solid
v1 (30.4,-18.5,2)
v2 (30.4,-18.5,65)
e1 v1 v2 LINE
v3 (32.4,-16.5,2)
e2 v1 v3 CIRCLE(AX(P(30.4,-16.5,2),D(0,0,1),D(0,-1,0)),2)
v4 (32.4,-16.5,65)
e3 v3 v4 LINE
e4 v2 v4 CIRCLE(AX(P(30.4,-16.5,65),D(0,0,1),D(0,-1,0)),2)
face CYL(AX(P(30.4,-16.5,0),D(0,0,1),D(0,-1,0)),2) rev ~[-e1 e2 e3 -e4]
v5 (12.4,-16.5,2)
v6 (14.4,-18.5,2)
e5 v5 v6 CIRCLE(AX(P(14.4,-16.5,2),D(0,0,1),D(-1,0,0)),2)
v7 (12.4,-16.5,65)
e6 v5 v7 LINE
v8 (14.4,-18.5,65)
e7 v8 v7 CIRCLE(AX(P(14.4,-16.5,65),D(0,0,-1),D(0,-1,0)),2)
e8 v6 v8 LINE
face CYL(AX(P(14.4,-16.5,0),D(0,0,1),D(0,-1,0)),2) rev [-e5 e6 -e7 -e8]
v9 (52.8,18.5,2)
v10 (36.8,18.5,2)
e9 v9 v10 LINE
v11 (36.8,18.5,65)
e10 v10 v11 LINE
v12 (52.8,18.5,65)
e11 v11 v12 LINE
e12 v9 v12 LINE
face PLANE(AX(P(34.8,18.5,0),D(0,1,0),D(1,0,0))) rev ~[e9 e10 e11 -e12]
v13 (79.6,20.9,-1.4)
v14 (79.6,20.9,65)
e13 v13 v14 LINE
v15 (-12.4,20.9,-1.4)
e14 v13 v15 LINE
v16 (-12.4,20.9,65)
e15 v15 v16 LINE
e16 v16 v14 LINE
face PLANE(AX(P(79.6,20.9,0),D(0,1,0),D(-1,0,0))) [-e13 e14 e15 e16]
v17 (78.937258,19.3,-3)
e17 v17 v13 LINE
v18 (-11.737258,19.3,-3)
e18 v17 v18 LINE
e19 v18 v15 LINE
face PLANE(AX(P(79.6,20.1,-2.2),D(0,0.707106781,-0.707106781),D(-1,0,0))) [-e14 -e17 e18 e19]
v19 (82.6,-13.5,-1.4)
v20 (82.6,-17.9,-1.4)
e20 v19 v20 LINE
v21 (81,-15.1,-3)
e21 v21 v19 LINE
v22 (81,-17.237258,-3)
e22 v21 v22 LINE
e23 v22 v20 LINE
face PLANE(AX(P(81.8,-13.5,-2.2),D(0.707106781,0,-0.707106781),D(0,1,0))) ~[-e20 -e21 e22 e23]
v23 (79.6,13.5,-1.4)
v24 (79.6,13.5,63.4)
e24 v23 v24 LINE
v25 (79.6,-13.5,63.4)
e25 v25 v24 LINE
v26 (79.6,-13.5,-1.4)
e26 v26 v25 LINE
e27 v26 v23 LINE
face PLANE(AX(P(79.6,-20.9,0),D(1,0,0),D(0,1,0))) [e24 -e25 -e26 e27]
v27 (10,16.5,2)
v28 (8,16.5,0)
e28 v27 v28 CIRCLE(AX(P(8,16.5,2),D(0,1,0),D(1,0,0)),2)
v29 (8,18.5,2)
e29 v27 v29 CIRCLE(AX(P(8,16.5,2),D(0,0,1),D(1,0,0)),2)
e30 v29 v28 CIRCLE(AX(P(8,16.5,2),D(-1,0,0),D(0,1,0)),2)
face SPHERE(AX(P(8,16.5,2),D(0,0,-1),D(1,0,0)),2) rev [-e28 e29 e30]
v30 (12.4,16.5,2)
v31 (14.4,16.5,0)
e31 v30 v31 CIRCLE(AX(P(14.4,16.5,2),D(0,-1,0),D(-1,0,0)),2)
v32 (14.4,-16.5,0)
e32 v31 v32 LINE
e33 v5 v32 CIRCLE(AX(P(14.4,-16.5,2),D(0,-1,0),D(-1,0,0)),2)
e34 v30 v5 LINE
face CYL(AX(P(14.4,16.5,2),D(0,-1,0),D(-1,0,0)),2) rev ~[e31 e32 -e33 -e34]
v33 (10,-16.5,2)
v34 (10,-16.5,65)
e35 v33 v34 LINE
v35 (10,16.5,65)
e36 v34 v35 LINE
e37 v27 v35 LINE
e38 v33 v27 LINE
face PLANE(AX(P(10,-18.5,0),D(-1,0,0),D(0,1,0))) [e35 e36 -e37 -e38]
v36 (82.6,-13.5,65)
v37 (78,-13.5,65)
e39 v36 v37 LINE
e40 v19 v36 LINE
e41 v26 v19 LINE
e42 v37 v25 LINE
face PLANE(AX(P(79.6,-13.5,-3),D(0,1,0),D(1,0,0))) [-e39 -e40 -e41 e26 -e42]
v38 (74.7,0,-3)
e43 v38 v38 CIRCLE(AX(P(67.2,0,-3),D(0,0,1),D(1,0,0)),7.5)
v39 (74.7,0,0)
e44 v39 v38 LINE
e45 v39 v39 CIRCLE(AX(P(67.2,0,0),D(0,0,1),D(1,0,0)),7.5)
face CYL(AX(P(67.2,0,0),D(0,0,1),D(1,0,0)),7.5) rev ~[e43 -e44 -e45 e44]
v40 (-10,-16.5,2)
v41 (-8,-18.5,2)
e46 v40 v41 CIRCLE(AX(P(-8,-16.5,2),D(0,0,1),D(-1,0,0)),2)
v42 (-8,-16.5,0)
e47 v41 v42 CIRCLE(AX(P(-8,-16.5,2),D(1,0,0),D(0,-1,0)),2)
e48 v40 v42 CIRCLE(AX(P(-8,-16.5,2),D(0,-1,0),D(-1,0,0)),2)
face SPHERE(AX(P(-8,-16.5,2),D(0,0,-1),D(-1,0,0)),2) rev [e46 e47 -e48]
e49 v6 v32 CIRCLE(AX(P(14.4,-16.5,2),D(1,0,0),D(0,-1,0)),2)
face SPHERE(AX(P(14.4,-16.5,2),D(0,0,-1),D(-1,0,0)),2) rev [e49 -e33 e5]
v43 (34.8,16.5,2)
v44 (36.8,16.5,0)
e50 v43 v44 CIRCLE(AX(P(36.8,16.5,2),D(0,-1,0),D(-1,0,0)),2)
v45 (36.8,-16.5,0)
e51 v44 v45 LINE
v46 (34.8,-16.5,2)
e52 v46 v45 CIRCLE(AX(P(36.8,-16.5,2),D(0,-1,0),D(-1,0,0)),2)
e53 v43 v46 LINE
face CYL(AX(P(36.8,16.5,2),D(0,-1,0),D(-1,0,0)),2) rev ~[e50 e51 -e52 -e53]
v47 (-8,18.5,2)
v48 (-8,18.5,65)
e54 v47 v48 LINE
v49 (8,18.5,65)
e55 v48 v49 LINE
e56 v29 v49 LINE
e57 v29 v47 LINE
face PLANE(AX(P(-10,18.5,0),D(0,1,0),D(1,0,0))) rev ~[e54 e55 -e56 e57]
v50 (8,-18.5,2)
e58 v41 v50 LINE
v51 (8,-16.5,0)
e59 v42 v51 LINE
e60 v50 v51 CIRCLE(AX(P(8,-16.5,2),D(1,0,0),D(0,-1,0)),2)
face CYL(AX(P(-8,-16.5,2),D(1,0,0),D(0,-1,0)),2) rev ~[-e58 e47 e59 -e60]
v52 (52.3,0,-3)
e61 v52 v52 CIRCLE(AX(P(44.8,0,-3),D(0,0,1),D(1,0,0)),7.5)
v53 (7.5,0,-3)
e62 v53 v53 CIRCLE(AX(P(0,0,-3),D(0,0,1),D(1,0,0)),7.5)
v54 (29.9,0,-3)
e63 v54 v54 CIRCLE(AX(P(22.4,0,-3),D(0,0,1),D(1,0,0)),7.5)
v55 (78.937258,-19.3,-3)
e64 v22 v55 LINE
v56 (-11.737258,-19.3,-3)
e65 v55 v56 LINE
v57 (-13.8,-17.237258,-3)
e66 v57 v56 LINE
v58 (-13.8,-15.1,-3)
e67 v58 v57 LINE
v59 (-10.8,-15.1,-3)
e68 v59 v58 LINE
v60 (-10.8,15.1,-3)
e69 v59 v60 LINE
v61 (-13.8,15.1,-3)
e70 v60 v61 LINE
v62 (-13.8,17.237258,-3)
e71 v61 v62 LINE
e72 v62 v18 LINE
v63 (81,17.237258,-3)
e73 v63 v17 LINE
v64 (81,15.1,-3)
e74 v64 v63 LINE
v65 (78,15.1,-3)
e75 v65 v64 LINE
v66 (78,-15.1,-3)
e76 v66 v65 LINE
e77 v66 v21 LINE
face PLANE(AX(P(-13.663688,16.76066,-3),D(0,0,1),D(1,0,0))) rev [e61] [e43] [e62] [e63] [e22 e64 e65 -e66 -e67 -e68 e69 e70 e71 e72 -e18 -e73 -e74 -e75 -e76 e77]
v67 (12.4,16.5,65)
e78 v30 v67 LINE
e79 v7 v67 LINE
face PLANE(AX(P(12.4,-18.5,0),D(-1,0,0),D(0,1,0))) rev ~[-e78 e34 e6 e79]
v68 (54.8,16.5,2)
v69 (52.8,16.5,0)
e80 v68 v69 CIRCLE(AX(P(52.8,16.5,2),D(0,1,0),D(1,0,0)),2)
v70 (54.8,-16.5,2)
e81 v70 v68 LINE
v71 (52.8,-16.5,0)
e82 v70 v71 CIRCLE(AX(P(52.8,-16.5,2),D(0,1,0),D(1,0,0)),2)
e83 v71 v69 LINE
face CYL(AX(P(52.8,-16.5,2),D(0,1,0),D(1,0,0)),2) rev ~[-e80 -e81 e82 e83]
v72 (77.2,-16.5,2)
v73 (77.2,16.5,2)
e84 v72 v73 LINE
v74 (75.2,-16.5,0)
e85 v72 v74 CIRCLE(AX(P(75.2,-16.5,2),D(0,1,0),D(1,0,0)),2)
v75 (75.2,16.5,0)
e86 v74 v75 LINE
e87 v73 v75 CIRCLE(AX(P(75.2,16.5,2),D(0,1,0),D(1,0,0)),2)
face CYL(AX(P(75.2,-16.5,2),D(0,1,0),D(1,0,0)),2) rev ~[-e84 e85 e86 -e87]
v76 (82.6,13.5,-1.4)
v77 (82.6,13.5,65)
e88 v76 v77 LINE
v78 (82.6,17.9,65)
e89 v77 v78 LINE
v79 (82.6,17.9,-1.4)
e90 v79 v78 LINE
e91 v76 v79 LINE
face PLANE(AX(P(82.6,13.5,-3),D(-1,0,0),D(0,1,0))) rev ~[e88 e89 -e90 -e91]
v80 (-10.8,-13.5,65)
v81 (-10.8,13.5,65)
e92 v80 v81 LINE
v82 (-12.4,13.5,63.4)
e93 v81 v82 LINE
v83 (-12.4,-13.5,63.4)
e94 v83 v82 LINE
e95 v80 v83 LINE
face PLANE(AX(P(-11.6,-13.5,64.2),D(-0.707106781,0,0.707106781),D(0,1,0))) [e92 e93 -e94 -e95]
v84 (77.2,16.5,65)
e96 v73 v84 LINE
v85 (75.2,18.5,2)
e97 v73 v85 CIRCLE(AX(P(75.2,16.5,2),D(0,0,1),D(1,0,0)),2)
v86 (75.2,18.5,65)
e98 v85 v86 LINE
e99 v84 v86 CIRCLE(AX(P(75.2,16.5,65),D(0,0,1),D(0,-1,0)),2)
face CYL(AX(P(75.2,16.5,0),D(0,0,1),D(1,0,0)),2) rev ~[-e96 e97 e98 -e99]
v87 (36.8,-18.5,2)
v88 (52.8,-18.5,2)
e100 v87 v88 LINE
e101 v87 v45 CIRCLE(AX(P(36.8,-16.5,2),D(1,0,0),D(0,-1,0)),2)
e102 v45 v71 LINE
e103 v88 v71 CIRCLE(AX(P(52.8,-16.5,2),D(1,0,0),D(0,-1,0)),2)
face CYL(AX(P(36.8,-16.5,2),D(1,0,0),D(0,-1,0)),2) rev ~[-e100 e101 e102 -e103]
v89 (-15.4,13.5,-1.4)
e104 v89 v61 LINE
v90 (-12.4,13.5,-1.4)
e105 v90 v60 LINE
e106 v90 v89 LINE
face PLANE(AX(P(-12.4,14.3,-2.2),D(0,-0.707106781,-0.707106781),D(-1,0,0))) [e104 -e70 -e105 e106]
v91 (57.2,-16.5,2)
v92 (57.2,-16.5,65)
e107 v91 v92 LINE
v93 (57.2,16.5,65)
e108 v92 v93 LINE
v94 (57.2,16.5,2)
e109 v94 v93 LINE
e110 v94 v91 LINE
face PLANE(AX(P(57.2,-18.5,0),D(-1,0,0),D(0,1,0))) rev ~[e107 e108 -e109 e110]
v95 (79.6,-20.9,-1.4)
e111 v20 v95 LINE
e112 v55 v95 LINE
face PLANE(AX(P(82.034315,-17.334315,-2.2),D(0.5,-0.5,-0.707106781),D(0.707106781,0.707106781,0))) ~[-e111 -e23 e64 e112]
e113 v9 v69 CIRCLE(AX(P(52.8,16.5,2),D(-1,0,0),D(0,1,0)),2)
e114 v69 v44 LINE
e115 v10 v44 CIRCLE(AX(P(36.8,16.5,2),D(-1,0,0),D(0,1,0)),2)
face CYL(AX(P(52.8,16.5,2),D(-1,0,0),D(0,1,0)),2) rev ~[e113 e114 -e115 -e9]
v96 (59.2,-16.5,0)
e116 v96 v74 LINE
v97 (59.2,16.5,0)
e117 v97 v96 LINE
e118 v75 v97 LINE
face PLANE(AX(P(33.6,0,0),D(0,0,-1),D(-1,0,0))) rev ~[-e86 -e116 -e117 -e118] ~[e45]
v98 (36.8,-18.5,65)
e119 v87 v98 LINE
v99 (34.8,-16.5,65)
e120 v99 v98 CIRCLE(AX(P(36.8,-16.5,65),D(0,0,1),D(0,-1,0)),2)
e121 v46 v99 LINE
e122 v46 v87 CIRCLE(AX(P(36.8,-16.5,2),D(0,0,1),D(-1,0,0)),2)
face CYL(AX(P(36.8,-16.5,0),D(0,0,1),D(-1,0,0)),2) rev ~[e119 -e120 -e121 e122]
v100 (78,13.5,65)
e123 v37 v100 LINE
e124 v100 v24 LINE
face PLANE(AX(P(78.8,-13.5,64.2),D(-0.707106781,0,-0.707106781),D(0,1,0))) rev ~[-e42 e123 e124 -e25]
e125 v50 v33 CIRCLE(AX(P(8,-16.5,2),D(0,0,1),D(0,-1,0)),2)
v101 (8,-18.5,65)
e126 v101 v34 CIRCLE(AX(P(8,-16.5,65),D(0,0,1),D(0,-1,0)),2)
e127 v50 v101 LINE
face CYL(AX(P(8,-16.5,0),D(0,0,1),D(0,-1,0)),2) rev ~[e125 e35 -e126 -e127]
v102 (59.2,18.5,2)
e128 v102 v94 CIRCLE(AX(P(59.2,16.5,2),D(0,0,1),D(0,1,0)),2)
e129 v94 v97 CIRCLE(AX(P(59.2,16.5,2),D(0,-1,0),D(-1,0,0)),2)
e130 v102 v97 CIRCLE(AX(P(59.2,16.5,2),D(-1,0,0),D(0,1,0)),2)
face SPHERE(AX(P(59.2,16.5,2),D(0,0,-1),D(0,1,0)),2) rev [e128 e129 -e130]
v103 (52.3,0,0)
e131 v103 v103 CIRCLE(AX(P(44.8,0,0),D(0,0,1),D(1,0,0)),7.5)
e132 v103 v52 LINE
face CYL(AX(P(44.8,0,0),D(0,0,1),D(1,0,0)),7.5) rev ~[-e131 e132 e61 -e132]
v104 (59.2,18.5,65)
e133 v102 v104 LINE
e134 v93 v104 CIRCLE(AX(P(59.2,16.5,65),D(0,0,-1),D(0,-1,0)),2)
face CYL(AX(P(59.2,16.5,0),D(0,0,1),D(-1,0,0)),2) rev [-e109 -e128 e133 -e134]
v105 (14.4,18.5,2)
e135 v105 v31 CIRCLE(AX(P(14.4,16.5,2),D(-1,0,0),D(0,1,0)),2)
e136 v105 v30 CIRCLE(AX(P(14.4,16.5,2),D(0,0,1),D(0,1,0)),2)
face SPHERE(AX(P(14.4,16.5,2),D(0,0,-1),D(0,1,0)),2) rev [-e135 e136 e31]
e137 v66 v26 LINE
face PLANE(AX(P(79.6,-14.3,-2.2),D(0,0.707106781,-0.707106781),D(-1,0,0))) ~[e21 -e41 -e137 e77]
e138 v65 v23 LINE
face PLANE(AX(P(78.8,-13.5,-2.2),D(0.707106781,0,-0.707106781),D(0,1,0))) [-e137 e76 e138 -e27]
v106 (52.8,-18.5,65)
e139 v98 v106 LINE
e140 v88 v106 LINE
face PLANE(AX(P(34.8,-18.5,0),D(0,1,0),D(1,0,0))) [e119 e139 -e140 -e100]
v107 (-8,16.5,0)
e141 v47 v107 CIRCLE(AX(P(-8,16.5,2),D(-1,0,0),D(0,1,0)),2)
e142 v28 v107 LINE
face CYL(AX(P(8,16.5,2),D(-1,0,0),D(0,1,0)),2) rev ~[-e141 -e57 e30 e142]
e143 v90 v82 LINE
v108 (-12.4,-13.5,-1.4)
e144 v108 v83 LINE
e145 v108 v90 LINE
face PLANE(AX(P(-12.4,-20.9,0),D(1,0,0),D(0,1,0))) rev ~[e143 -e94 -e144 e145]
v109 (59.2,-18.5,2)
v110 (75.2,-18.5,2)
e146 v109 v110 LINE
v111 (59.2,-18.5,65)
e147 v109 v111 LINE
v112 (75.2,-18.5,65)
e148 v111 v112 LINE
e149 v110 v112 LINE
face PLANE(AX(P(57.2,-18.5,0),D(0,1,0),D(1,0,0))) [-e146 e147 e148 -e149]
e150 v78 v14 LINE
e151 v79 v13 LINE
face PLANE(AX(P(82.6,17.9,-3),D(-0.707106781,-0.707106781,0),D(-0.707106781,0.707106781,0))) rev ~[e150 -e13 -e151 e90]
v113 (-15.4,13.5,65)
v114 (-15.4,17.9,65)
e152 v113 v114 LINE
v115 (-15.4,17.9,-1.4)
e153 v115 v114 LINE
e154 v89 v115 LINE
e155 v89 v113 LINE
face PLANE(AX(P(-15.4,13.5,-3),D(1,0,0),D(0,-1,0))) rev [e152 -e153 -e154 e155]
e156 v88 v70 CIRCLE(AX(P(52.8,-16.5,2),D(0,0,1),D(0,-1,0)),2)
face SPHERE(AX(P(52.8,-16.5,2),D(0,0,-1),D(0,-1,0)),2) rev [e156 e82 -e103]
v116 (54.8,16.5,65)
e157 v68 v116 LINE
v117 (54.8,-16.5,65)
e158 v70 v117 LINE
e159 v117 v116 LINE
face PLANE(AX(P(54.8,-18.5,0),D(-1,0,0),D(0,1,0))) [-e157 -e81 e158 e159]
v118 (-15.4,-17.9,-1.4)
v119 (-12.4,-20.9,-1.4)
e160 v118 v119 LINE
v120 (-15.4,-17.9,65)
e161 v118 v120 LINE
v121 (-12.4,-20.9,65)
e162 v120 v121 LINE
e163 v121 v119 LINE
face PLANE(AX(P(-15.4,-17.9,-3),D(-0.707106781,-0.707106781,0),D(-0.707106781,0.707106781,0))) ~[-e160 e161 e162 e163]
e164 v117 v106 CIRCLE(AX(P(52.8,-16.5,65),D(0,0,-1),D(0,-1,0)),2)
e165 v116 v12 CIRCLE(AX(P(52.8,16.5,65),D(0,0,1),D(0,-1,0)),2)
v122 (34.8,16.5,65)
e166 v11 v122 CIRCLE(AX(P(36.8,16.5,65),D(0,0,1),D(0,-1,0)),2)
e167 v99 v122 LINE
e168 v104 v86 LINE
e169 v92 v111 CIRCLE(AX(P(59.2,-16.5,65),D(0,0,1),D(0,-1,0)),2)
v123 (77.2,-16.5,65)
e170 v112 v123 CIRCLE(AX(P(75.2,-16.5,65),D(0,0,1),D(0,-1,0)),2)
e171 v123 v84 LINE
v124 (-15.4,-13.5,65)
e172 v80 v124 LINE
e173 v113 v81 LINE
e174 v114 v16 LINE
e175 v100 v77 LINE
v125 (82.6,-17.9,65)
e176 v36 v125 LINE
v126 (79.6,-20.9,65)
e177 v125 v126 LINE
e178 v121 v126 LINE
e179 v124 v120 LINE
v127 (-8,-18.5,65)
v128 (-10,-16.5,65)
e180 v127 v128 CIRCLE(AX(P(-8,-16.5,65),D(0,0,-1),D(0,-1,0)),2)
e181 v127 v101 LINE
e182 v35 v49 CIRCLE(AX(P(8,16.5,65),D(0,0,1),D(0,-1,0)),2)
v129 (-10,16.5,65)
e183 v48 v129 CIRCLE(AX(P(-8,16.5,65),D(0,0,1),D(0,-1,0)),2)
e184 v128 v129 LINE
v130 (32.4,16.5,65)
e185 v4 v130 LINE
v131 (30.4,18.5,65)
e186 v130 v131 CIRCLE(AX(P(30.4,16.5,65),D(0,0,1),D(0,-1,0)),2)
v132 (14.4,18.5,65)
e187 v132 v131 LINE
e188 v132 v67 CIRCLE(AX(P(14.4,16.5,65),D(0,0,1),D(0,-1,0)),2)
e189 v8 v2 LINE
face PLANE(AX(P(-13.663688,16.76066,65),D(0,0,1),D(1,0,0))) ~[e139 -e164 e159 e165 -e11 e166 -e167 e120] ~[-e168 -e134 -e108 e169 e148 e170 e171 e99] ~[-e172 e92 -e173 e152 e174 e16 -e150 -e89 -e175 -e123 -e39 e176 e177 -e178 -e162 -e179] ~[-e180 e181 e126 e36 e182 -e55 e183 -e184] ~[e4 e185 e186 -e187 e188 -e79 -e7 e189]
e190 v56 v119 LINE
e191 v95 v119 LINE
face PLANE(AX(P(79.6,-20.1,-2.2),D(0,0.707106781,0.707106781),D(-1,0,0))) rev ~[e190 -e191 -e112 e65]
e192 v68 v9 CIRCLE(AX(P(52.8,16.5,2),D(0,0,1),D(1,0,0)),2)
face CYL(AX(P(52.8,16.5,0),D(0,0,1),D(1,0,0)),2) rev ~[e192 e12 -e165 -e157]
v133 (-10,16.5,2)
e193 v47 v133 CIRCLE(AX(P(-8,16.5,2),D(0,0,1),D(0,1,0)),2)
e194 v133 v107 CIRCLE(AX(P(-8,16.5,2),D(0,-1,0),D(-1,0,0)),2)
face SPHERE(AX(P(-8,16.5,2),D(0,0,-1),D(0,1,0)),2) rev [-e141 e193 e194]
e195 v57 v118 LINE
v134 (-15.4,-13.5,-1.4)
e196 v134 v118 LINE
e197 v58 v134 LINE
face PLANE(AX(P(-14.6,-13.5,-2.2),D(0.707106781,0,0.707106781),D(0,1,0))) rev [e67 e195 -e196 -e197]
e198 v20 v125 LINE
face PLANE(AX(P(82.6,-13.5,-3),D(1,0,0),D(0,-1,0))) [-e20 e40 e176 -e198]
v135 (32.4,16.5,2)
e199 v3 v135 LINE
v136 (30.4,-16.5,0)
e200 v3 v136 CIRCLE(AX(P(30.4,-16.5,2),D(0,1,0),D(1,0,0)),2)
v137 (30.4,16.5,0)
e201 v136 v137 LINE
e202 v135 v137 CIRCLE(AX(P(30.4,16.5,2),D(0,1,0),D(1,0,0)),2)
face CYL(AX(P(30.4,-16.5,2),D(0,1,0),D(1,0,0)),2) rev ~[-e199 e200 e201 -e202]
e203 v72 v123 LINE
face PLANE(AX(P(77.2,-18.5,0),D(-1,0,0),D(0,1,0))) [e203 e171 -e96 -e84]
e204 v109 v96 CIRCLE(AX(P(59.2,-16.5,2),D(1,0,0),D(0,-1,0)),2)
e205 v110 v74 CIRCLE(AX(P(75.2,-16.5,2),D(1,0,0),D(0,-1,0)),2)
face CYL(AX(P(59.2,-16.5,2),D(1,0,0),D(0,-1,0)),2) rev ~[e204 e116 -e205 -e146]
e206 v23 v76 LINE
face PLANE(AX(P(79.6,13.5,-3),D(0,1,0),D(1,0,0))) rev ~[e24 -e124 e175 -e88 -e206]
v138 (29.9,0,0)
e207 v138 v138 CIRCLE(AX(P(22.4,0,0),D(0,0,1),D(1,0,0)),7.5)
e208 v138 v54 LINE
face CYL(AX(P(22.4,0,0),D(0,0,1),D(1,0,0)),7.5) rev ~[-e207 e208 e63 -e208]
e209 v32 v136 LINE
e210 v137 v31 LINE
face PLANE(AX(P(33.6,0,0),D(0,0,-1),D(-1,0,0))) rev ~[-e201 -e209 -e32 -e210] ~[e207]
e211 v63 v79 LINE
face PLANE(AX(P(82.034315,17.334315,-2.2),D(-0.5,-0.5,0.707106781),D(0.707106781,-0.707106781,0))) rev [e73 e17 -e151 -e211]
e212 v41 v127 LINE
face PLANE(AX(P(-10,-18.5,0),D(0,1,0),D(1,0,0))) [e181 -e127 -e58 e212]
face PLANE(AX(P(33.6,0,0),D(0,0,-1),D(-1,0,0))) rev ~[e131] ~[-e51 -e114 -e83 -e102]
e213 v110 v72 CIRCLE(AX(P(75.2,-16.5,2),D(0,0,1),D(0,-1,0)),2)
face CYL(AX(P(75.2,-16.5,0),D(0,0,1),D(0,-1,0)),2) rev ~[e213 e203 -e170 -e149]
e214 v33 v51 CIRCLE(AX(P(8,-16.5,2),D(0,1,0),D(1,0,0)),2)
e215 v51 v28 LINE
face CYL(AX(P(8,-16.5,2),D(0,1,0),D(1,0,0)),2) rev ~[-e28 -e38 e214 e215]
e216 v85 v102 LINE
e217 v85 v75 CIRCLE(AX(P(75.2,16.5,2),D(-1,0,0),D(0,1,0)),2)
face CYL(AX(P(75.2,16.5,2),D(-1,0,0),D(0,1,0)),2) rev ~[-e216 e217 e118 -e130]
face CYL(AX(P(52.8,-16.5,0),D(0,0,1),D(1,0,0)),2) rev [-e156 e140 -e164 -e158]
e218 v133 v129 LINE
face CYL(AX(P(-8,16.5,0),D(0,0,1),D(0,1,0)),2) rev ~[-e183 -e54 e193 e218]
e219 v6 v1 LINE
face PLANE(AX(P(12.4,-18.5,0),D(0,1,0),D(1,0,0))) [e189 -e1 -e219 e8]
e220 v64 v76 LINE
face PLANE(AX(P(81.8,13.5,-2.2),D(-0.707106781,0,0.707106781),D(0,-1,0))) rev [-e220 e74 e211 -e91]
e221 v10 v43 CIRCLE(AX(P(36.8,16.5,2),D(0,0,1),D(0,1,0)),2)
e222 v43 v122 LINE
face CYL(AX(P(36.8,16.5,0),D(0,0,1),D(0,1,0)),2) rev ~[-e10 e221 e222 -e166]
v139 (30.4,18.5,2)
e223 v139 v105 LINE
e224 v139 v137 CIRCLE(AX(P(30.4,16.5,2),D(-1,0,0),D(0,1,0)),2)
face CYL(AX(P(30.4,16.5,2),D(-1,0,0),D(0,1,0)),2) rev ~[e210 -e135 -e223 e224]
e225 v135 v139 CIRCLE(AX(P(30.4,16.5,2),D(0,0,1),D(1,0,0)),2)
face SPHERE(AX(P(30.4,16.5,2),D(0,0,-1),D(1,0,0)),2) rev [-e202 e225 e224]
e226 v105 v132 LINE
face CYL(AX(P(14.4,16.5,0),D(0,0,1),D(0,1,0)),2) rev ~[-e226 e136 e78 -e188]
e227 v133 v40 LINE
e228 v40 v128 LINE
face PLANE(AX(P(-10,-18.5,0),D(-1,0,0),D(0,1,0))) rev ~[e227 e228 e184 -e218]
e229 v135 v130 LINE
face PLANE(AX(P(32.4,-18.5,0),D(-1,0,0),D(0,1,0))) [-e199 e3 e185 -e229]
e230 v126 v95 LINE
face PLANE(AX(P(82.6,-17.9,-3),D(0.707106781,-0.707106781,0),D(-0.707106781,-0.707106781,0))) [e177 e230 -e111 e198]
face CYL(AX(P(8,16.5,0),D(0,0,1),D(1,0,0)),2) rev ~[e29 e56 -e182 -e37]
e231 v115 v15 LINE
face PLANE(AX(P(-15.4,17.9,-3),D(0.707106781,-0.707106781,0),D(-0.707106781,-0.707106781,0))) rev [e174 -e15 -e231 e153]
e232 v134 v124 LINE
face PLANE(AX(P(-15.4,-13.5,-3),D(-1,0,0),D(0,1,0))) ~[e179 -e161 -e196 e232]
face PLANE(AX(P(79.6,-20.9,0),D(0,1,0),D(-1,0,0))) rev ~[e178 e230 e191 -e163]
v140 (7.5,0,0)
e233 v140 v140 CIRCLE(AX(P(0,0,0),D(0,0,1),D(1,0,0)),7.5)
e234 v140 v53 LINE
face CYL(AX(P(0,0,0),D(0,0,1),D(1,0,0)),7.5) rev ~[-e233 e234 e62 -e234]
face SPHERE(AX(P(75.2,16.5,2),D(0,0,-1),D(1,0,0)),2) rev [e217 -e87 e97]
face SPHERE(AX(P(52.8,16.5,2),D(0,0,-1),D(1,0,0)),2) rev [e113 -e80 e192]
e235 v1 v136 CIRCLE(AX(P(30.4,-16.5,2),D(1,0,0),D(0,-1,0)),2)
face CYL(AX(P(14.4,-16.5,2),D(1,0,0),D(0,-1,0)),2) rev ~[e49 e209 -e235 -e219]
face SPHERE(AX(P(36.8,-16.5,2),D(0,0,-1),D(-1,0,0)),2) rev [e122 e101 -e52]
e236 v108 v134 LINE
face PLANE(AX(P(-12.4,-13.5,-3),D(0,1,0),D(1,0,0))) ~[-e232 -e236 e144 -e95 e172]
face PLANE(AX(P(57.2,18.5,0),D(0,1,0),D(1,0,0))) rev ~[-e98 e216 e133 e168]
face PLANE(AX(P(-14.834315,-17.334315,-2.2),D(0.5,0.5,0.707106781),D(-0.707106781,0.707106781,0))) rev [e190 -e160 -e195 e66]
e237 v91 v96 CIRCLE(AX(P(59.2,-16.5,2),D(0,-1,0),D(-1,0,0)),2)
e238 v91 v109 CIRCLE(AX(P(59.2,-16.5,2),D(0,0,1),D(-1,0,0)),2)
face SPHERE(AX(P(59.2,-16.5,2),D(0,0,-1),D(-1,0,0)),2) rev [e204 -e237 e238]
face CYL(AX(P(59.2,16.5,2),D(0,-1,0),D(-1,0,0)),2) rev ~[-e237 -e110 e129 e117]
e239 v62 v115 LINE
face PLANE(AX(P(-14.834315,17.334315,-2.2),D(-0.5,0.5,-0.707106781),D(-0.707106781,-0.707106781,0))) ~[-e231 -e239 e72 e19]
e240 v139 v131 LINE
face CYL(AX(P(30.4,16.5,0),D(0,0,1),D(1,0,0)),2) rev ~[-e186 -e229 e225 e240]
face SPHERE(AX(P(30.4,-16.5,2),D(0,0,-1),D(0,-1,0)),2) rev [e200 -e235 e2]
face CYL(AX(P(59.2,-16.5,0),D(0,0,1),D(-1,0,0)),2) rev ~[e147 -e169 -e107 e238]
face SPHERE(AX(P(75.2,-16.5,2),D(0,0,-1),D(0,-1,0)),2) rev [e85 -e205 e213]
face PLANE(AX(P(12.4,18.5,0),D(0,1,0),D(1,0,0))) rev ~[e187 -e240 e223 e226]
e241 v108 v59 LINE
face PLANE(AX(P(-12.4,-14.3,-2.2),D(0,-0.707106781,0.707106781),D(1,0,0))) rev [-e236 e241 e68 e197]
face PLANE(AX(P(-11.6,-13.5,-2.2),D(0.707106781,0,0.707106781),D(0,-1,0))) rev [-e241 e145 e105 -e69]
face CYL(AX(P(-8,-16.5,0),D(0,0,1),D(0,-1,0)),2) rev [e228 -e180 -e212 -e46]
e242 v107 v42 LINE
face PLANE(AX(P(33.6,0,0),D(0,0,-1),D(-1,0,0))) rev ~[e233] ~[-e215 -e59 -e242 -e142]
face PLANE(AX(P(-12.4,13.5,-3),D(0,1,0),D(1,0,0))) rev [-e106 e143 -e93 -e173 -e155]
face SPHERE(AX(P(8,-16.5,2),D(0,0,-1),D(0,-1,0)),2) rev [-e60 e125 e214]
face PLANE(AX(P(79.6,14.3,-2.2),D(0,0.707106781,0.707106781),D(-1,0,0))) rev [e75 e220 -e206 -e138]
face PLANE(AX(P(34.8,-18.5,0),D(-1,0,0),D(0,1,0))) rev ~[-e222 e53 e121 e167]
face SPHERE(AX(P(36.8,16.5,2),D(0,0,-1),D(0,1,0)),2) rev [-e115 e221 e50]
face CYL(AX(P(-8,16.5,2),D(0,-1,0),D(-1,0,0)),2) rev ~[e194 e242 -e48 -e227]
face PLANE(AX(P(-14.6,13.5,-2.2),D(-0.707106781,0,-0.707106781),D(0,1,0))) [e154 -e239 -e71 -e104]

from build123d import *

# Parameters (mm, degrees)
SKETCH1_W           = 92
SKETCH1_H           = 41.8
SKETCH1_W_2         = 20
SKETCH1_H_2         = 37
BOSS_EXTRUDE1_DEPTH = 65
SKETCH2_W           = 92
SKETCH2_H           = 41.8
BOSS_EXTRUDE2_DEPTH = 3
BOSS_EXTRUDE3_DEPTH = 68
CHAMFER4_SIZE       = 1.6
SKETCH3_R           = 7.5
CUT_EXTRUDE1_DEPTH  = 4
FILLET1_R           = 2
FILLET2_R           = 2
CHAMFER5_SIZE       = 1.6


with BuildPart() as part:
    # Sketch1 → Boss-Extrude1 (new body)
    with BuildSketch(Plane.XY):
        with Locations((33.6, 0)):
            Rectangle(SKETCH1_W, SKETCH1_H)
        with Locations((22.4, 0)):
            Rectangle(SKETCH1_W_2, SKETCH1_H_2, mode=Mode.SUBTRACT)
        Rectangle(SKETCH1_W_2, SKETCH1_H_2, mode=Mode.SUBTRACT)
        with Locations((44.8, 0)):
            Rectangle(SKETCH1_W_2, SKETCH1_H_2, mode=Mode.SUBTRACT)
        with Locations((67.2, 0)):
            Rectangle(SKETCH1_W_2, SKETCH1_H_2, mode=Mode.SUBTRACT)
    extrude(amount=BOSS_EXTRUDE1_DEPTH)

    # Sketch2 → Boss-Extrude2 (add)
    with BuildSketch(Plane(origin=(0, 0, 0), x_dir=(-1, 0, 0), z_dir=(0, 0, -1))):
        with Locations((-33.6, 0)):
            Rectangle(SKETCH2_W, SKETCH2_H)
    extrude(amount=BOSS_EXTRUDE2_DEPTH)

    # Sketch4 → Boss-Extrude3 (add)
    with BuildSketch(Plane(origin=(0, 0, -3), x_dir=(-1, 0, 0), z_dir=(0, 0, -1))):
        Polygon((-79.6, 20.9), (-79.6, 13.5), (-82.6, 13.5), (-82.6, 17.9), align=None)
        Polygon((-82.6, -13.5), (-82.6, -17.9), (-79.6, -20.9), (-79.6, -13.5), align=None)
    boss_extrude3 = extrude(amount=-BOSS_EXTRUDE3_DEPTH)

    # Mirror1: Boss-Extrude3 across plane
    add(boss_extrude3.mirror(Plane.ZY.offset(-33.6)))

    # Chamfer4
    chamfer4_edges = [part.edges().sort_by_distance(p)[0] for p in [
        (81.1, -13.5, -3),
        (82.6, -15.7, -3),
        (81.1, -19.4, -3),
        (-13.9, 19.4, -3),
        (-15.4, 15.7, -3),
        (-13.9, 13.5, -3),
        (-12.4, 0, -3),
        (-13.9, -13.5, -3),
        (-15.4, -15.7, -3),
        (-13.9, -19.4, -3),
        (33.6, 20.9, -3),
        (33.6, -20.9, -3),
        (79.6, 0, -3),
        (81.1, 19.4, -3),
        (82.6, 15.7, -3),
        (81.1, 13.5, -3),
    ]]
    chamfer(chamfer4_edges, length=CHAMFER4_SIZE)

    # Sketch3 → Cut-Extrude1 (cut, through all)
    with BuildSketch(Plane.XY):
        Circle(SKETCH3_R)
        with Locations((22.4, 0)):
            Circle(SKETCH3_R)
        with Locations((44.8, 0)):
            Circle(SKETCH3_R)
        with Locations((67.2, 0)):
            Circle(SKETCH3_R)
    extrude(amount=-CUT_EXTRUDE1_DEPTH, mode=Mode.SUBTRACT)

    # Fillet1
    fillet1_edges = [part.edges().sort_by_distance(p)[0] for p in [
        (10, -18.5, 32.5),
        (10, 18.5, 32.5),
        (-10, 18.5, 32.5),
        (-10, -18.5, 32.5),
        (32.4, 18.5, 32.5),
        (12.4, 18.5, 32.5),
        (12.4, -18.5, 32.5),
        (32.4, -18.5, 32.5),
        (54.8, 18.5, 32.5),
        (34.8, 18.5, 32.5),
        (34.8, -18.5, 32.5),
        (54.8, -18.5, 32.5),
        (77.2, 18.5, 32.5),
        (57.2, 18.5, 32.5),
        (57.2, -18.5, 32.5),
        (77.2, -18.5, 32.5),
    ]]
    fillet(fillet1_edges, radius=FILLET1_R)

    # Fillet2
    fillet2_edges = [part.edges().sort_by_distance(p)[0] for p in [
        (67.2, -18.5, 0),
        (77.2, 0, 0),
        (67.2, 18.5, 0),
        (57.2, 0, 0),
        (76.614213562, 17.914213562, 0),
        (57.785786438, 17.914213562, 0),
        (57.785786438, -17.914213562, 0),
        (76.614213562, -17.914213562, 0),
        (44.8, -18.5, 0),
        (54.8, 0, 0),
        (44.8, 18.5, 0),
        (34.8, 0, 0),
        (54.214213562, 17.914213562, 0),
        (35.385786438, 17.914213562, 0),
        (35.385786438, -17.914213562, 0),
        (54.214213562, -17.914213562, 0),
        (22.4, -18.5, 0),
        (32.4, 0, 0),
        (22.4, 18.5, 0),
        (12.4, 0, 0),
        (12.985786438, 17.914213562, 0),
        (31.814213562, 17.914213562, 0),
        (12.985786438, -17.914213562, 0),
        (31.814213562, -17.914213562, 0),
        (0, -18.5, 0),
        (10, 0, 0),
        (0, 18.5, 0),
        (-10, 0, 0),
        (-9.414213562, 17.914213562, 0),
        (9.414213562, 17.914213562, 0),
        (-9.414213562, -17.914213562, 0),
        (9.414213562, -17.914213562, 0),
    ]]
    fillet(fillet2_edges, radius=FILLET2_R)

    # Chamfer5
    chamfer5_edges = [part.edges().sort_by_distance(p)[0] for p in [
        (79.6, 0, 65),
        (-12.4, 0, 65),
    ]]
    chamfer(chamfer5_edges, length=CHAMFER5_SIZE)


solid = part.part
